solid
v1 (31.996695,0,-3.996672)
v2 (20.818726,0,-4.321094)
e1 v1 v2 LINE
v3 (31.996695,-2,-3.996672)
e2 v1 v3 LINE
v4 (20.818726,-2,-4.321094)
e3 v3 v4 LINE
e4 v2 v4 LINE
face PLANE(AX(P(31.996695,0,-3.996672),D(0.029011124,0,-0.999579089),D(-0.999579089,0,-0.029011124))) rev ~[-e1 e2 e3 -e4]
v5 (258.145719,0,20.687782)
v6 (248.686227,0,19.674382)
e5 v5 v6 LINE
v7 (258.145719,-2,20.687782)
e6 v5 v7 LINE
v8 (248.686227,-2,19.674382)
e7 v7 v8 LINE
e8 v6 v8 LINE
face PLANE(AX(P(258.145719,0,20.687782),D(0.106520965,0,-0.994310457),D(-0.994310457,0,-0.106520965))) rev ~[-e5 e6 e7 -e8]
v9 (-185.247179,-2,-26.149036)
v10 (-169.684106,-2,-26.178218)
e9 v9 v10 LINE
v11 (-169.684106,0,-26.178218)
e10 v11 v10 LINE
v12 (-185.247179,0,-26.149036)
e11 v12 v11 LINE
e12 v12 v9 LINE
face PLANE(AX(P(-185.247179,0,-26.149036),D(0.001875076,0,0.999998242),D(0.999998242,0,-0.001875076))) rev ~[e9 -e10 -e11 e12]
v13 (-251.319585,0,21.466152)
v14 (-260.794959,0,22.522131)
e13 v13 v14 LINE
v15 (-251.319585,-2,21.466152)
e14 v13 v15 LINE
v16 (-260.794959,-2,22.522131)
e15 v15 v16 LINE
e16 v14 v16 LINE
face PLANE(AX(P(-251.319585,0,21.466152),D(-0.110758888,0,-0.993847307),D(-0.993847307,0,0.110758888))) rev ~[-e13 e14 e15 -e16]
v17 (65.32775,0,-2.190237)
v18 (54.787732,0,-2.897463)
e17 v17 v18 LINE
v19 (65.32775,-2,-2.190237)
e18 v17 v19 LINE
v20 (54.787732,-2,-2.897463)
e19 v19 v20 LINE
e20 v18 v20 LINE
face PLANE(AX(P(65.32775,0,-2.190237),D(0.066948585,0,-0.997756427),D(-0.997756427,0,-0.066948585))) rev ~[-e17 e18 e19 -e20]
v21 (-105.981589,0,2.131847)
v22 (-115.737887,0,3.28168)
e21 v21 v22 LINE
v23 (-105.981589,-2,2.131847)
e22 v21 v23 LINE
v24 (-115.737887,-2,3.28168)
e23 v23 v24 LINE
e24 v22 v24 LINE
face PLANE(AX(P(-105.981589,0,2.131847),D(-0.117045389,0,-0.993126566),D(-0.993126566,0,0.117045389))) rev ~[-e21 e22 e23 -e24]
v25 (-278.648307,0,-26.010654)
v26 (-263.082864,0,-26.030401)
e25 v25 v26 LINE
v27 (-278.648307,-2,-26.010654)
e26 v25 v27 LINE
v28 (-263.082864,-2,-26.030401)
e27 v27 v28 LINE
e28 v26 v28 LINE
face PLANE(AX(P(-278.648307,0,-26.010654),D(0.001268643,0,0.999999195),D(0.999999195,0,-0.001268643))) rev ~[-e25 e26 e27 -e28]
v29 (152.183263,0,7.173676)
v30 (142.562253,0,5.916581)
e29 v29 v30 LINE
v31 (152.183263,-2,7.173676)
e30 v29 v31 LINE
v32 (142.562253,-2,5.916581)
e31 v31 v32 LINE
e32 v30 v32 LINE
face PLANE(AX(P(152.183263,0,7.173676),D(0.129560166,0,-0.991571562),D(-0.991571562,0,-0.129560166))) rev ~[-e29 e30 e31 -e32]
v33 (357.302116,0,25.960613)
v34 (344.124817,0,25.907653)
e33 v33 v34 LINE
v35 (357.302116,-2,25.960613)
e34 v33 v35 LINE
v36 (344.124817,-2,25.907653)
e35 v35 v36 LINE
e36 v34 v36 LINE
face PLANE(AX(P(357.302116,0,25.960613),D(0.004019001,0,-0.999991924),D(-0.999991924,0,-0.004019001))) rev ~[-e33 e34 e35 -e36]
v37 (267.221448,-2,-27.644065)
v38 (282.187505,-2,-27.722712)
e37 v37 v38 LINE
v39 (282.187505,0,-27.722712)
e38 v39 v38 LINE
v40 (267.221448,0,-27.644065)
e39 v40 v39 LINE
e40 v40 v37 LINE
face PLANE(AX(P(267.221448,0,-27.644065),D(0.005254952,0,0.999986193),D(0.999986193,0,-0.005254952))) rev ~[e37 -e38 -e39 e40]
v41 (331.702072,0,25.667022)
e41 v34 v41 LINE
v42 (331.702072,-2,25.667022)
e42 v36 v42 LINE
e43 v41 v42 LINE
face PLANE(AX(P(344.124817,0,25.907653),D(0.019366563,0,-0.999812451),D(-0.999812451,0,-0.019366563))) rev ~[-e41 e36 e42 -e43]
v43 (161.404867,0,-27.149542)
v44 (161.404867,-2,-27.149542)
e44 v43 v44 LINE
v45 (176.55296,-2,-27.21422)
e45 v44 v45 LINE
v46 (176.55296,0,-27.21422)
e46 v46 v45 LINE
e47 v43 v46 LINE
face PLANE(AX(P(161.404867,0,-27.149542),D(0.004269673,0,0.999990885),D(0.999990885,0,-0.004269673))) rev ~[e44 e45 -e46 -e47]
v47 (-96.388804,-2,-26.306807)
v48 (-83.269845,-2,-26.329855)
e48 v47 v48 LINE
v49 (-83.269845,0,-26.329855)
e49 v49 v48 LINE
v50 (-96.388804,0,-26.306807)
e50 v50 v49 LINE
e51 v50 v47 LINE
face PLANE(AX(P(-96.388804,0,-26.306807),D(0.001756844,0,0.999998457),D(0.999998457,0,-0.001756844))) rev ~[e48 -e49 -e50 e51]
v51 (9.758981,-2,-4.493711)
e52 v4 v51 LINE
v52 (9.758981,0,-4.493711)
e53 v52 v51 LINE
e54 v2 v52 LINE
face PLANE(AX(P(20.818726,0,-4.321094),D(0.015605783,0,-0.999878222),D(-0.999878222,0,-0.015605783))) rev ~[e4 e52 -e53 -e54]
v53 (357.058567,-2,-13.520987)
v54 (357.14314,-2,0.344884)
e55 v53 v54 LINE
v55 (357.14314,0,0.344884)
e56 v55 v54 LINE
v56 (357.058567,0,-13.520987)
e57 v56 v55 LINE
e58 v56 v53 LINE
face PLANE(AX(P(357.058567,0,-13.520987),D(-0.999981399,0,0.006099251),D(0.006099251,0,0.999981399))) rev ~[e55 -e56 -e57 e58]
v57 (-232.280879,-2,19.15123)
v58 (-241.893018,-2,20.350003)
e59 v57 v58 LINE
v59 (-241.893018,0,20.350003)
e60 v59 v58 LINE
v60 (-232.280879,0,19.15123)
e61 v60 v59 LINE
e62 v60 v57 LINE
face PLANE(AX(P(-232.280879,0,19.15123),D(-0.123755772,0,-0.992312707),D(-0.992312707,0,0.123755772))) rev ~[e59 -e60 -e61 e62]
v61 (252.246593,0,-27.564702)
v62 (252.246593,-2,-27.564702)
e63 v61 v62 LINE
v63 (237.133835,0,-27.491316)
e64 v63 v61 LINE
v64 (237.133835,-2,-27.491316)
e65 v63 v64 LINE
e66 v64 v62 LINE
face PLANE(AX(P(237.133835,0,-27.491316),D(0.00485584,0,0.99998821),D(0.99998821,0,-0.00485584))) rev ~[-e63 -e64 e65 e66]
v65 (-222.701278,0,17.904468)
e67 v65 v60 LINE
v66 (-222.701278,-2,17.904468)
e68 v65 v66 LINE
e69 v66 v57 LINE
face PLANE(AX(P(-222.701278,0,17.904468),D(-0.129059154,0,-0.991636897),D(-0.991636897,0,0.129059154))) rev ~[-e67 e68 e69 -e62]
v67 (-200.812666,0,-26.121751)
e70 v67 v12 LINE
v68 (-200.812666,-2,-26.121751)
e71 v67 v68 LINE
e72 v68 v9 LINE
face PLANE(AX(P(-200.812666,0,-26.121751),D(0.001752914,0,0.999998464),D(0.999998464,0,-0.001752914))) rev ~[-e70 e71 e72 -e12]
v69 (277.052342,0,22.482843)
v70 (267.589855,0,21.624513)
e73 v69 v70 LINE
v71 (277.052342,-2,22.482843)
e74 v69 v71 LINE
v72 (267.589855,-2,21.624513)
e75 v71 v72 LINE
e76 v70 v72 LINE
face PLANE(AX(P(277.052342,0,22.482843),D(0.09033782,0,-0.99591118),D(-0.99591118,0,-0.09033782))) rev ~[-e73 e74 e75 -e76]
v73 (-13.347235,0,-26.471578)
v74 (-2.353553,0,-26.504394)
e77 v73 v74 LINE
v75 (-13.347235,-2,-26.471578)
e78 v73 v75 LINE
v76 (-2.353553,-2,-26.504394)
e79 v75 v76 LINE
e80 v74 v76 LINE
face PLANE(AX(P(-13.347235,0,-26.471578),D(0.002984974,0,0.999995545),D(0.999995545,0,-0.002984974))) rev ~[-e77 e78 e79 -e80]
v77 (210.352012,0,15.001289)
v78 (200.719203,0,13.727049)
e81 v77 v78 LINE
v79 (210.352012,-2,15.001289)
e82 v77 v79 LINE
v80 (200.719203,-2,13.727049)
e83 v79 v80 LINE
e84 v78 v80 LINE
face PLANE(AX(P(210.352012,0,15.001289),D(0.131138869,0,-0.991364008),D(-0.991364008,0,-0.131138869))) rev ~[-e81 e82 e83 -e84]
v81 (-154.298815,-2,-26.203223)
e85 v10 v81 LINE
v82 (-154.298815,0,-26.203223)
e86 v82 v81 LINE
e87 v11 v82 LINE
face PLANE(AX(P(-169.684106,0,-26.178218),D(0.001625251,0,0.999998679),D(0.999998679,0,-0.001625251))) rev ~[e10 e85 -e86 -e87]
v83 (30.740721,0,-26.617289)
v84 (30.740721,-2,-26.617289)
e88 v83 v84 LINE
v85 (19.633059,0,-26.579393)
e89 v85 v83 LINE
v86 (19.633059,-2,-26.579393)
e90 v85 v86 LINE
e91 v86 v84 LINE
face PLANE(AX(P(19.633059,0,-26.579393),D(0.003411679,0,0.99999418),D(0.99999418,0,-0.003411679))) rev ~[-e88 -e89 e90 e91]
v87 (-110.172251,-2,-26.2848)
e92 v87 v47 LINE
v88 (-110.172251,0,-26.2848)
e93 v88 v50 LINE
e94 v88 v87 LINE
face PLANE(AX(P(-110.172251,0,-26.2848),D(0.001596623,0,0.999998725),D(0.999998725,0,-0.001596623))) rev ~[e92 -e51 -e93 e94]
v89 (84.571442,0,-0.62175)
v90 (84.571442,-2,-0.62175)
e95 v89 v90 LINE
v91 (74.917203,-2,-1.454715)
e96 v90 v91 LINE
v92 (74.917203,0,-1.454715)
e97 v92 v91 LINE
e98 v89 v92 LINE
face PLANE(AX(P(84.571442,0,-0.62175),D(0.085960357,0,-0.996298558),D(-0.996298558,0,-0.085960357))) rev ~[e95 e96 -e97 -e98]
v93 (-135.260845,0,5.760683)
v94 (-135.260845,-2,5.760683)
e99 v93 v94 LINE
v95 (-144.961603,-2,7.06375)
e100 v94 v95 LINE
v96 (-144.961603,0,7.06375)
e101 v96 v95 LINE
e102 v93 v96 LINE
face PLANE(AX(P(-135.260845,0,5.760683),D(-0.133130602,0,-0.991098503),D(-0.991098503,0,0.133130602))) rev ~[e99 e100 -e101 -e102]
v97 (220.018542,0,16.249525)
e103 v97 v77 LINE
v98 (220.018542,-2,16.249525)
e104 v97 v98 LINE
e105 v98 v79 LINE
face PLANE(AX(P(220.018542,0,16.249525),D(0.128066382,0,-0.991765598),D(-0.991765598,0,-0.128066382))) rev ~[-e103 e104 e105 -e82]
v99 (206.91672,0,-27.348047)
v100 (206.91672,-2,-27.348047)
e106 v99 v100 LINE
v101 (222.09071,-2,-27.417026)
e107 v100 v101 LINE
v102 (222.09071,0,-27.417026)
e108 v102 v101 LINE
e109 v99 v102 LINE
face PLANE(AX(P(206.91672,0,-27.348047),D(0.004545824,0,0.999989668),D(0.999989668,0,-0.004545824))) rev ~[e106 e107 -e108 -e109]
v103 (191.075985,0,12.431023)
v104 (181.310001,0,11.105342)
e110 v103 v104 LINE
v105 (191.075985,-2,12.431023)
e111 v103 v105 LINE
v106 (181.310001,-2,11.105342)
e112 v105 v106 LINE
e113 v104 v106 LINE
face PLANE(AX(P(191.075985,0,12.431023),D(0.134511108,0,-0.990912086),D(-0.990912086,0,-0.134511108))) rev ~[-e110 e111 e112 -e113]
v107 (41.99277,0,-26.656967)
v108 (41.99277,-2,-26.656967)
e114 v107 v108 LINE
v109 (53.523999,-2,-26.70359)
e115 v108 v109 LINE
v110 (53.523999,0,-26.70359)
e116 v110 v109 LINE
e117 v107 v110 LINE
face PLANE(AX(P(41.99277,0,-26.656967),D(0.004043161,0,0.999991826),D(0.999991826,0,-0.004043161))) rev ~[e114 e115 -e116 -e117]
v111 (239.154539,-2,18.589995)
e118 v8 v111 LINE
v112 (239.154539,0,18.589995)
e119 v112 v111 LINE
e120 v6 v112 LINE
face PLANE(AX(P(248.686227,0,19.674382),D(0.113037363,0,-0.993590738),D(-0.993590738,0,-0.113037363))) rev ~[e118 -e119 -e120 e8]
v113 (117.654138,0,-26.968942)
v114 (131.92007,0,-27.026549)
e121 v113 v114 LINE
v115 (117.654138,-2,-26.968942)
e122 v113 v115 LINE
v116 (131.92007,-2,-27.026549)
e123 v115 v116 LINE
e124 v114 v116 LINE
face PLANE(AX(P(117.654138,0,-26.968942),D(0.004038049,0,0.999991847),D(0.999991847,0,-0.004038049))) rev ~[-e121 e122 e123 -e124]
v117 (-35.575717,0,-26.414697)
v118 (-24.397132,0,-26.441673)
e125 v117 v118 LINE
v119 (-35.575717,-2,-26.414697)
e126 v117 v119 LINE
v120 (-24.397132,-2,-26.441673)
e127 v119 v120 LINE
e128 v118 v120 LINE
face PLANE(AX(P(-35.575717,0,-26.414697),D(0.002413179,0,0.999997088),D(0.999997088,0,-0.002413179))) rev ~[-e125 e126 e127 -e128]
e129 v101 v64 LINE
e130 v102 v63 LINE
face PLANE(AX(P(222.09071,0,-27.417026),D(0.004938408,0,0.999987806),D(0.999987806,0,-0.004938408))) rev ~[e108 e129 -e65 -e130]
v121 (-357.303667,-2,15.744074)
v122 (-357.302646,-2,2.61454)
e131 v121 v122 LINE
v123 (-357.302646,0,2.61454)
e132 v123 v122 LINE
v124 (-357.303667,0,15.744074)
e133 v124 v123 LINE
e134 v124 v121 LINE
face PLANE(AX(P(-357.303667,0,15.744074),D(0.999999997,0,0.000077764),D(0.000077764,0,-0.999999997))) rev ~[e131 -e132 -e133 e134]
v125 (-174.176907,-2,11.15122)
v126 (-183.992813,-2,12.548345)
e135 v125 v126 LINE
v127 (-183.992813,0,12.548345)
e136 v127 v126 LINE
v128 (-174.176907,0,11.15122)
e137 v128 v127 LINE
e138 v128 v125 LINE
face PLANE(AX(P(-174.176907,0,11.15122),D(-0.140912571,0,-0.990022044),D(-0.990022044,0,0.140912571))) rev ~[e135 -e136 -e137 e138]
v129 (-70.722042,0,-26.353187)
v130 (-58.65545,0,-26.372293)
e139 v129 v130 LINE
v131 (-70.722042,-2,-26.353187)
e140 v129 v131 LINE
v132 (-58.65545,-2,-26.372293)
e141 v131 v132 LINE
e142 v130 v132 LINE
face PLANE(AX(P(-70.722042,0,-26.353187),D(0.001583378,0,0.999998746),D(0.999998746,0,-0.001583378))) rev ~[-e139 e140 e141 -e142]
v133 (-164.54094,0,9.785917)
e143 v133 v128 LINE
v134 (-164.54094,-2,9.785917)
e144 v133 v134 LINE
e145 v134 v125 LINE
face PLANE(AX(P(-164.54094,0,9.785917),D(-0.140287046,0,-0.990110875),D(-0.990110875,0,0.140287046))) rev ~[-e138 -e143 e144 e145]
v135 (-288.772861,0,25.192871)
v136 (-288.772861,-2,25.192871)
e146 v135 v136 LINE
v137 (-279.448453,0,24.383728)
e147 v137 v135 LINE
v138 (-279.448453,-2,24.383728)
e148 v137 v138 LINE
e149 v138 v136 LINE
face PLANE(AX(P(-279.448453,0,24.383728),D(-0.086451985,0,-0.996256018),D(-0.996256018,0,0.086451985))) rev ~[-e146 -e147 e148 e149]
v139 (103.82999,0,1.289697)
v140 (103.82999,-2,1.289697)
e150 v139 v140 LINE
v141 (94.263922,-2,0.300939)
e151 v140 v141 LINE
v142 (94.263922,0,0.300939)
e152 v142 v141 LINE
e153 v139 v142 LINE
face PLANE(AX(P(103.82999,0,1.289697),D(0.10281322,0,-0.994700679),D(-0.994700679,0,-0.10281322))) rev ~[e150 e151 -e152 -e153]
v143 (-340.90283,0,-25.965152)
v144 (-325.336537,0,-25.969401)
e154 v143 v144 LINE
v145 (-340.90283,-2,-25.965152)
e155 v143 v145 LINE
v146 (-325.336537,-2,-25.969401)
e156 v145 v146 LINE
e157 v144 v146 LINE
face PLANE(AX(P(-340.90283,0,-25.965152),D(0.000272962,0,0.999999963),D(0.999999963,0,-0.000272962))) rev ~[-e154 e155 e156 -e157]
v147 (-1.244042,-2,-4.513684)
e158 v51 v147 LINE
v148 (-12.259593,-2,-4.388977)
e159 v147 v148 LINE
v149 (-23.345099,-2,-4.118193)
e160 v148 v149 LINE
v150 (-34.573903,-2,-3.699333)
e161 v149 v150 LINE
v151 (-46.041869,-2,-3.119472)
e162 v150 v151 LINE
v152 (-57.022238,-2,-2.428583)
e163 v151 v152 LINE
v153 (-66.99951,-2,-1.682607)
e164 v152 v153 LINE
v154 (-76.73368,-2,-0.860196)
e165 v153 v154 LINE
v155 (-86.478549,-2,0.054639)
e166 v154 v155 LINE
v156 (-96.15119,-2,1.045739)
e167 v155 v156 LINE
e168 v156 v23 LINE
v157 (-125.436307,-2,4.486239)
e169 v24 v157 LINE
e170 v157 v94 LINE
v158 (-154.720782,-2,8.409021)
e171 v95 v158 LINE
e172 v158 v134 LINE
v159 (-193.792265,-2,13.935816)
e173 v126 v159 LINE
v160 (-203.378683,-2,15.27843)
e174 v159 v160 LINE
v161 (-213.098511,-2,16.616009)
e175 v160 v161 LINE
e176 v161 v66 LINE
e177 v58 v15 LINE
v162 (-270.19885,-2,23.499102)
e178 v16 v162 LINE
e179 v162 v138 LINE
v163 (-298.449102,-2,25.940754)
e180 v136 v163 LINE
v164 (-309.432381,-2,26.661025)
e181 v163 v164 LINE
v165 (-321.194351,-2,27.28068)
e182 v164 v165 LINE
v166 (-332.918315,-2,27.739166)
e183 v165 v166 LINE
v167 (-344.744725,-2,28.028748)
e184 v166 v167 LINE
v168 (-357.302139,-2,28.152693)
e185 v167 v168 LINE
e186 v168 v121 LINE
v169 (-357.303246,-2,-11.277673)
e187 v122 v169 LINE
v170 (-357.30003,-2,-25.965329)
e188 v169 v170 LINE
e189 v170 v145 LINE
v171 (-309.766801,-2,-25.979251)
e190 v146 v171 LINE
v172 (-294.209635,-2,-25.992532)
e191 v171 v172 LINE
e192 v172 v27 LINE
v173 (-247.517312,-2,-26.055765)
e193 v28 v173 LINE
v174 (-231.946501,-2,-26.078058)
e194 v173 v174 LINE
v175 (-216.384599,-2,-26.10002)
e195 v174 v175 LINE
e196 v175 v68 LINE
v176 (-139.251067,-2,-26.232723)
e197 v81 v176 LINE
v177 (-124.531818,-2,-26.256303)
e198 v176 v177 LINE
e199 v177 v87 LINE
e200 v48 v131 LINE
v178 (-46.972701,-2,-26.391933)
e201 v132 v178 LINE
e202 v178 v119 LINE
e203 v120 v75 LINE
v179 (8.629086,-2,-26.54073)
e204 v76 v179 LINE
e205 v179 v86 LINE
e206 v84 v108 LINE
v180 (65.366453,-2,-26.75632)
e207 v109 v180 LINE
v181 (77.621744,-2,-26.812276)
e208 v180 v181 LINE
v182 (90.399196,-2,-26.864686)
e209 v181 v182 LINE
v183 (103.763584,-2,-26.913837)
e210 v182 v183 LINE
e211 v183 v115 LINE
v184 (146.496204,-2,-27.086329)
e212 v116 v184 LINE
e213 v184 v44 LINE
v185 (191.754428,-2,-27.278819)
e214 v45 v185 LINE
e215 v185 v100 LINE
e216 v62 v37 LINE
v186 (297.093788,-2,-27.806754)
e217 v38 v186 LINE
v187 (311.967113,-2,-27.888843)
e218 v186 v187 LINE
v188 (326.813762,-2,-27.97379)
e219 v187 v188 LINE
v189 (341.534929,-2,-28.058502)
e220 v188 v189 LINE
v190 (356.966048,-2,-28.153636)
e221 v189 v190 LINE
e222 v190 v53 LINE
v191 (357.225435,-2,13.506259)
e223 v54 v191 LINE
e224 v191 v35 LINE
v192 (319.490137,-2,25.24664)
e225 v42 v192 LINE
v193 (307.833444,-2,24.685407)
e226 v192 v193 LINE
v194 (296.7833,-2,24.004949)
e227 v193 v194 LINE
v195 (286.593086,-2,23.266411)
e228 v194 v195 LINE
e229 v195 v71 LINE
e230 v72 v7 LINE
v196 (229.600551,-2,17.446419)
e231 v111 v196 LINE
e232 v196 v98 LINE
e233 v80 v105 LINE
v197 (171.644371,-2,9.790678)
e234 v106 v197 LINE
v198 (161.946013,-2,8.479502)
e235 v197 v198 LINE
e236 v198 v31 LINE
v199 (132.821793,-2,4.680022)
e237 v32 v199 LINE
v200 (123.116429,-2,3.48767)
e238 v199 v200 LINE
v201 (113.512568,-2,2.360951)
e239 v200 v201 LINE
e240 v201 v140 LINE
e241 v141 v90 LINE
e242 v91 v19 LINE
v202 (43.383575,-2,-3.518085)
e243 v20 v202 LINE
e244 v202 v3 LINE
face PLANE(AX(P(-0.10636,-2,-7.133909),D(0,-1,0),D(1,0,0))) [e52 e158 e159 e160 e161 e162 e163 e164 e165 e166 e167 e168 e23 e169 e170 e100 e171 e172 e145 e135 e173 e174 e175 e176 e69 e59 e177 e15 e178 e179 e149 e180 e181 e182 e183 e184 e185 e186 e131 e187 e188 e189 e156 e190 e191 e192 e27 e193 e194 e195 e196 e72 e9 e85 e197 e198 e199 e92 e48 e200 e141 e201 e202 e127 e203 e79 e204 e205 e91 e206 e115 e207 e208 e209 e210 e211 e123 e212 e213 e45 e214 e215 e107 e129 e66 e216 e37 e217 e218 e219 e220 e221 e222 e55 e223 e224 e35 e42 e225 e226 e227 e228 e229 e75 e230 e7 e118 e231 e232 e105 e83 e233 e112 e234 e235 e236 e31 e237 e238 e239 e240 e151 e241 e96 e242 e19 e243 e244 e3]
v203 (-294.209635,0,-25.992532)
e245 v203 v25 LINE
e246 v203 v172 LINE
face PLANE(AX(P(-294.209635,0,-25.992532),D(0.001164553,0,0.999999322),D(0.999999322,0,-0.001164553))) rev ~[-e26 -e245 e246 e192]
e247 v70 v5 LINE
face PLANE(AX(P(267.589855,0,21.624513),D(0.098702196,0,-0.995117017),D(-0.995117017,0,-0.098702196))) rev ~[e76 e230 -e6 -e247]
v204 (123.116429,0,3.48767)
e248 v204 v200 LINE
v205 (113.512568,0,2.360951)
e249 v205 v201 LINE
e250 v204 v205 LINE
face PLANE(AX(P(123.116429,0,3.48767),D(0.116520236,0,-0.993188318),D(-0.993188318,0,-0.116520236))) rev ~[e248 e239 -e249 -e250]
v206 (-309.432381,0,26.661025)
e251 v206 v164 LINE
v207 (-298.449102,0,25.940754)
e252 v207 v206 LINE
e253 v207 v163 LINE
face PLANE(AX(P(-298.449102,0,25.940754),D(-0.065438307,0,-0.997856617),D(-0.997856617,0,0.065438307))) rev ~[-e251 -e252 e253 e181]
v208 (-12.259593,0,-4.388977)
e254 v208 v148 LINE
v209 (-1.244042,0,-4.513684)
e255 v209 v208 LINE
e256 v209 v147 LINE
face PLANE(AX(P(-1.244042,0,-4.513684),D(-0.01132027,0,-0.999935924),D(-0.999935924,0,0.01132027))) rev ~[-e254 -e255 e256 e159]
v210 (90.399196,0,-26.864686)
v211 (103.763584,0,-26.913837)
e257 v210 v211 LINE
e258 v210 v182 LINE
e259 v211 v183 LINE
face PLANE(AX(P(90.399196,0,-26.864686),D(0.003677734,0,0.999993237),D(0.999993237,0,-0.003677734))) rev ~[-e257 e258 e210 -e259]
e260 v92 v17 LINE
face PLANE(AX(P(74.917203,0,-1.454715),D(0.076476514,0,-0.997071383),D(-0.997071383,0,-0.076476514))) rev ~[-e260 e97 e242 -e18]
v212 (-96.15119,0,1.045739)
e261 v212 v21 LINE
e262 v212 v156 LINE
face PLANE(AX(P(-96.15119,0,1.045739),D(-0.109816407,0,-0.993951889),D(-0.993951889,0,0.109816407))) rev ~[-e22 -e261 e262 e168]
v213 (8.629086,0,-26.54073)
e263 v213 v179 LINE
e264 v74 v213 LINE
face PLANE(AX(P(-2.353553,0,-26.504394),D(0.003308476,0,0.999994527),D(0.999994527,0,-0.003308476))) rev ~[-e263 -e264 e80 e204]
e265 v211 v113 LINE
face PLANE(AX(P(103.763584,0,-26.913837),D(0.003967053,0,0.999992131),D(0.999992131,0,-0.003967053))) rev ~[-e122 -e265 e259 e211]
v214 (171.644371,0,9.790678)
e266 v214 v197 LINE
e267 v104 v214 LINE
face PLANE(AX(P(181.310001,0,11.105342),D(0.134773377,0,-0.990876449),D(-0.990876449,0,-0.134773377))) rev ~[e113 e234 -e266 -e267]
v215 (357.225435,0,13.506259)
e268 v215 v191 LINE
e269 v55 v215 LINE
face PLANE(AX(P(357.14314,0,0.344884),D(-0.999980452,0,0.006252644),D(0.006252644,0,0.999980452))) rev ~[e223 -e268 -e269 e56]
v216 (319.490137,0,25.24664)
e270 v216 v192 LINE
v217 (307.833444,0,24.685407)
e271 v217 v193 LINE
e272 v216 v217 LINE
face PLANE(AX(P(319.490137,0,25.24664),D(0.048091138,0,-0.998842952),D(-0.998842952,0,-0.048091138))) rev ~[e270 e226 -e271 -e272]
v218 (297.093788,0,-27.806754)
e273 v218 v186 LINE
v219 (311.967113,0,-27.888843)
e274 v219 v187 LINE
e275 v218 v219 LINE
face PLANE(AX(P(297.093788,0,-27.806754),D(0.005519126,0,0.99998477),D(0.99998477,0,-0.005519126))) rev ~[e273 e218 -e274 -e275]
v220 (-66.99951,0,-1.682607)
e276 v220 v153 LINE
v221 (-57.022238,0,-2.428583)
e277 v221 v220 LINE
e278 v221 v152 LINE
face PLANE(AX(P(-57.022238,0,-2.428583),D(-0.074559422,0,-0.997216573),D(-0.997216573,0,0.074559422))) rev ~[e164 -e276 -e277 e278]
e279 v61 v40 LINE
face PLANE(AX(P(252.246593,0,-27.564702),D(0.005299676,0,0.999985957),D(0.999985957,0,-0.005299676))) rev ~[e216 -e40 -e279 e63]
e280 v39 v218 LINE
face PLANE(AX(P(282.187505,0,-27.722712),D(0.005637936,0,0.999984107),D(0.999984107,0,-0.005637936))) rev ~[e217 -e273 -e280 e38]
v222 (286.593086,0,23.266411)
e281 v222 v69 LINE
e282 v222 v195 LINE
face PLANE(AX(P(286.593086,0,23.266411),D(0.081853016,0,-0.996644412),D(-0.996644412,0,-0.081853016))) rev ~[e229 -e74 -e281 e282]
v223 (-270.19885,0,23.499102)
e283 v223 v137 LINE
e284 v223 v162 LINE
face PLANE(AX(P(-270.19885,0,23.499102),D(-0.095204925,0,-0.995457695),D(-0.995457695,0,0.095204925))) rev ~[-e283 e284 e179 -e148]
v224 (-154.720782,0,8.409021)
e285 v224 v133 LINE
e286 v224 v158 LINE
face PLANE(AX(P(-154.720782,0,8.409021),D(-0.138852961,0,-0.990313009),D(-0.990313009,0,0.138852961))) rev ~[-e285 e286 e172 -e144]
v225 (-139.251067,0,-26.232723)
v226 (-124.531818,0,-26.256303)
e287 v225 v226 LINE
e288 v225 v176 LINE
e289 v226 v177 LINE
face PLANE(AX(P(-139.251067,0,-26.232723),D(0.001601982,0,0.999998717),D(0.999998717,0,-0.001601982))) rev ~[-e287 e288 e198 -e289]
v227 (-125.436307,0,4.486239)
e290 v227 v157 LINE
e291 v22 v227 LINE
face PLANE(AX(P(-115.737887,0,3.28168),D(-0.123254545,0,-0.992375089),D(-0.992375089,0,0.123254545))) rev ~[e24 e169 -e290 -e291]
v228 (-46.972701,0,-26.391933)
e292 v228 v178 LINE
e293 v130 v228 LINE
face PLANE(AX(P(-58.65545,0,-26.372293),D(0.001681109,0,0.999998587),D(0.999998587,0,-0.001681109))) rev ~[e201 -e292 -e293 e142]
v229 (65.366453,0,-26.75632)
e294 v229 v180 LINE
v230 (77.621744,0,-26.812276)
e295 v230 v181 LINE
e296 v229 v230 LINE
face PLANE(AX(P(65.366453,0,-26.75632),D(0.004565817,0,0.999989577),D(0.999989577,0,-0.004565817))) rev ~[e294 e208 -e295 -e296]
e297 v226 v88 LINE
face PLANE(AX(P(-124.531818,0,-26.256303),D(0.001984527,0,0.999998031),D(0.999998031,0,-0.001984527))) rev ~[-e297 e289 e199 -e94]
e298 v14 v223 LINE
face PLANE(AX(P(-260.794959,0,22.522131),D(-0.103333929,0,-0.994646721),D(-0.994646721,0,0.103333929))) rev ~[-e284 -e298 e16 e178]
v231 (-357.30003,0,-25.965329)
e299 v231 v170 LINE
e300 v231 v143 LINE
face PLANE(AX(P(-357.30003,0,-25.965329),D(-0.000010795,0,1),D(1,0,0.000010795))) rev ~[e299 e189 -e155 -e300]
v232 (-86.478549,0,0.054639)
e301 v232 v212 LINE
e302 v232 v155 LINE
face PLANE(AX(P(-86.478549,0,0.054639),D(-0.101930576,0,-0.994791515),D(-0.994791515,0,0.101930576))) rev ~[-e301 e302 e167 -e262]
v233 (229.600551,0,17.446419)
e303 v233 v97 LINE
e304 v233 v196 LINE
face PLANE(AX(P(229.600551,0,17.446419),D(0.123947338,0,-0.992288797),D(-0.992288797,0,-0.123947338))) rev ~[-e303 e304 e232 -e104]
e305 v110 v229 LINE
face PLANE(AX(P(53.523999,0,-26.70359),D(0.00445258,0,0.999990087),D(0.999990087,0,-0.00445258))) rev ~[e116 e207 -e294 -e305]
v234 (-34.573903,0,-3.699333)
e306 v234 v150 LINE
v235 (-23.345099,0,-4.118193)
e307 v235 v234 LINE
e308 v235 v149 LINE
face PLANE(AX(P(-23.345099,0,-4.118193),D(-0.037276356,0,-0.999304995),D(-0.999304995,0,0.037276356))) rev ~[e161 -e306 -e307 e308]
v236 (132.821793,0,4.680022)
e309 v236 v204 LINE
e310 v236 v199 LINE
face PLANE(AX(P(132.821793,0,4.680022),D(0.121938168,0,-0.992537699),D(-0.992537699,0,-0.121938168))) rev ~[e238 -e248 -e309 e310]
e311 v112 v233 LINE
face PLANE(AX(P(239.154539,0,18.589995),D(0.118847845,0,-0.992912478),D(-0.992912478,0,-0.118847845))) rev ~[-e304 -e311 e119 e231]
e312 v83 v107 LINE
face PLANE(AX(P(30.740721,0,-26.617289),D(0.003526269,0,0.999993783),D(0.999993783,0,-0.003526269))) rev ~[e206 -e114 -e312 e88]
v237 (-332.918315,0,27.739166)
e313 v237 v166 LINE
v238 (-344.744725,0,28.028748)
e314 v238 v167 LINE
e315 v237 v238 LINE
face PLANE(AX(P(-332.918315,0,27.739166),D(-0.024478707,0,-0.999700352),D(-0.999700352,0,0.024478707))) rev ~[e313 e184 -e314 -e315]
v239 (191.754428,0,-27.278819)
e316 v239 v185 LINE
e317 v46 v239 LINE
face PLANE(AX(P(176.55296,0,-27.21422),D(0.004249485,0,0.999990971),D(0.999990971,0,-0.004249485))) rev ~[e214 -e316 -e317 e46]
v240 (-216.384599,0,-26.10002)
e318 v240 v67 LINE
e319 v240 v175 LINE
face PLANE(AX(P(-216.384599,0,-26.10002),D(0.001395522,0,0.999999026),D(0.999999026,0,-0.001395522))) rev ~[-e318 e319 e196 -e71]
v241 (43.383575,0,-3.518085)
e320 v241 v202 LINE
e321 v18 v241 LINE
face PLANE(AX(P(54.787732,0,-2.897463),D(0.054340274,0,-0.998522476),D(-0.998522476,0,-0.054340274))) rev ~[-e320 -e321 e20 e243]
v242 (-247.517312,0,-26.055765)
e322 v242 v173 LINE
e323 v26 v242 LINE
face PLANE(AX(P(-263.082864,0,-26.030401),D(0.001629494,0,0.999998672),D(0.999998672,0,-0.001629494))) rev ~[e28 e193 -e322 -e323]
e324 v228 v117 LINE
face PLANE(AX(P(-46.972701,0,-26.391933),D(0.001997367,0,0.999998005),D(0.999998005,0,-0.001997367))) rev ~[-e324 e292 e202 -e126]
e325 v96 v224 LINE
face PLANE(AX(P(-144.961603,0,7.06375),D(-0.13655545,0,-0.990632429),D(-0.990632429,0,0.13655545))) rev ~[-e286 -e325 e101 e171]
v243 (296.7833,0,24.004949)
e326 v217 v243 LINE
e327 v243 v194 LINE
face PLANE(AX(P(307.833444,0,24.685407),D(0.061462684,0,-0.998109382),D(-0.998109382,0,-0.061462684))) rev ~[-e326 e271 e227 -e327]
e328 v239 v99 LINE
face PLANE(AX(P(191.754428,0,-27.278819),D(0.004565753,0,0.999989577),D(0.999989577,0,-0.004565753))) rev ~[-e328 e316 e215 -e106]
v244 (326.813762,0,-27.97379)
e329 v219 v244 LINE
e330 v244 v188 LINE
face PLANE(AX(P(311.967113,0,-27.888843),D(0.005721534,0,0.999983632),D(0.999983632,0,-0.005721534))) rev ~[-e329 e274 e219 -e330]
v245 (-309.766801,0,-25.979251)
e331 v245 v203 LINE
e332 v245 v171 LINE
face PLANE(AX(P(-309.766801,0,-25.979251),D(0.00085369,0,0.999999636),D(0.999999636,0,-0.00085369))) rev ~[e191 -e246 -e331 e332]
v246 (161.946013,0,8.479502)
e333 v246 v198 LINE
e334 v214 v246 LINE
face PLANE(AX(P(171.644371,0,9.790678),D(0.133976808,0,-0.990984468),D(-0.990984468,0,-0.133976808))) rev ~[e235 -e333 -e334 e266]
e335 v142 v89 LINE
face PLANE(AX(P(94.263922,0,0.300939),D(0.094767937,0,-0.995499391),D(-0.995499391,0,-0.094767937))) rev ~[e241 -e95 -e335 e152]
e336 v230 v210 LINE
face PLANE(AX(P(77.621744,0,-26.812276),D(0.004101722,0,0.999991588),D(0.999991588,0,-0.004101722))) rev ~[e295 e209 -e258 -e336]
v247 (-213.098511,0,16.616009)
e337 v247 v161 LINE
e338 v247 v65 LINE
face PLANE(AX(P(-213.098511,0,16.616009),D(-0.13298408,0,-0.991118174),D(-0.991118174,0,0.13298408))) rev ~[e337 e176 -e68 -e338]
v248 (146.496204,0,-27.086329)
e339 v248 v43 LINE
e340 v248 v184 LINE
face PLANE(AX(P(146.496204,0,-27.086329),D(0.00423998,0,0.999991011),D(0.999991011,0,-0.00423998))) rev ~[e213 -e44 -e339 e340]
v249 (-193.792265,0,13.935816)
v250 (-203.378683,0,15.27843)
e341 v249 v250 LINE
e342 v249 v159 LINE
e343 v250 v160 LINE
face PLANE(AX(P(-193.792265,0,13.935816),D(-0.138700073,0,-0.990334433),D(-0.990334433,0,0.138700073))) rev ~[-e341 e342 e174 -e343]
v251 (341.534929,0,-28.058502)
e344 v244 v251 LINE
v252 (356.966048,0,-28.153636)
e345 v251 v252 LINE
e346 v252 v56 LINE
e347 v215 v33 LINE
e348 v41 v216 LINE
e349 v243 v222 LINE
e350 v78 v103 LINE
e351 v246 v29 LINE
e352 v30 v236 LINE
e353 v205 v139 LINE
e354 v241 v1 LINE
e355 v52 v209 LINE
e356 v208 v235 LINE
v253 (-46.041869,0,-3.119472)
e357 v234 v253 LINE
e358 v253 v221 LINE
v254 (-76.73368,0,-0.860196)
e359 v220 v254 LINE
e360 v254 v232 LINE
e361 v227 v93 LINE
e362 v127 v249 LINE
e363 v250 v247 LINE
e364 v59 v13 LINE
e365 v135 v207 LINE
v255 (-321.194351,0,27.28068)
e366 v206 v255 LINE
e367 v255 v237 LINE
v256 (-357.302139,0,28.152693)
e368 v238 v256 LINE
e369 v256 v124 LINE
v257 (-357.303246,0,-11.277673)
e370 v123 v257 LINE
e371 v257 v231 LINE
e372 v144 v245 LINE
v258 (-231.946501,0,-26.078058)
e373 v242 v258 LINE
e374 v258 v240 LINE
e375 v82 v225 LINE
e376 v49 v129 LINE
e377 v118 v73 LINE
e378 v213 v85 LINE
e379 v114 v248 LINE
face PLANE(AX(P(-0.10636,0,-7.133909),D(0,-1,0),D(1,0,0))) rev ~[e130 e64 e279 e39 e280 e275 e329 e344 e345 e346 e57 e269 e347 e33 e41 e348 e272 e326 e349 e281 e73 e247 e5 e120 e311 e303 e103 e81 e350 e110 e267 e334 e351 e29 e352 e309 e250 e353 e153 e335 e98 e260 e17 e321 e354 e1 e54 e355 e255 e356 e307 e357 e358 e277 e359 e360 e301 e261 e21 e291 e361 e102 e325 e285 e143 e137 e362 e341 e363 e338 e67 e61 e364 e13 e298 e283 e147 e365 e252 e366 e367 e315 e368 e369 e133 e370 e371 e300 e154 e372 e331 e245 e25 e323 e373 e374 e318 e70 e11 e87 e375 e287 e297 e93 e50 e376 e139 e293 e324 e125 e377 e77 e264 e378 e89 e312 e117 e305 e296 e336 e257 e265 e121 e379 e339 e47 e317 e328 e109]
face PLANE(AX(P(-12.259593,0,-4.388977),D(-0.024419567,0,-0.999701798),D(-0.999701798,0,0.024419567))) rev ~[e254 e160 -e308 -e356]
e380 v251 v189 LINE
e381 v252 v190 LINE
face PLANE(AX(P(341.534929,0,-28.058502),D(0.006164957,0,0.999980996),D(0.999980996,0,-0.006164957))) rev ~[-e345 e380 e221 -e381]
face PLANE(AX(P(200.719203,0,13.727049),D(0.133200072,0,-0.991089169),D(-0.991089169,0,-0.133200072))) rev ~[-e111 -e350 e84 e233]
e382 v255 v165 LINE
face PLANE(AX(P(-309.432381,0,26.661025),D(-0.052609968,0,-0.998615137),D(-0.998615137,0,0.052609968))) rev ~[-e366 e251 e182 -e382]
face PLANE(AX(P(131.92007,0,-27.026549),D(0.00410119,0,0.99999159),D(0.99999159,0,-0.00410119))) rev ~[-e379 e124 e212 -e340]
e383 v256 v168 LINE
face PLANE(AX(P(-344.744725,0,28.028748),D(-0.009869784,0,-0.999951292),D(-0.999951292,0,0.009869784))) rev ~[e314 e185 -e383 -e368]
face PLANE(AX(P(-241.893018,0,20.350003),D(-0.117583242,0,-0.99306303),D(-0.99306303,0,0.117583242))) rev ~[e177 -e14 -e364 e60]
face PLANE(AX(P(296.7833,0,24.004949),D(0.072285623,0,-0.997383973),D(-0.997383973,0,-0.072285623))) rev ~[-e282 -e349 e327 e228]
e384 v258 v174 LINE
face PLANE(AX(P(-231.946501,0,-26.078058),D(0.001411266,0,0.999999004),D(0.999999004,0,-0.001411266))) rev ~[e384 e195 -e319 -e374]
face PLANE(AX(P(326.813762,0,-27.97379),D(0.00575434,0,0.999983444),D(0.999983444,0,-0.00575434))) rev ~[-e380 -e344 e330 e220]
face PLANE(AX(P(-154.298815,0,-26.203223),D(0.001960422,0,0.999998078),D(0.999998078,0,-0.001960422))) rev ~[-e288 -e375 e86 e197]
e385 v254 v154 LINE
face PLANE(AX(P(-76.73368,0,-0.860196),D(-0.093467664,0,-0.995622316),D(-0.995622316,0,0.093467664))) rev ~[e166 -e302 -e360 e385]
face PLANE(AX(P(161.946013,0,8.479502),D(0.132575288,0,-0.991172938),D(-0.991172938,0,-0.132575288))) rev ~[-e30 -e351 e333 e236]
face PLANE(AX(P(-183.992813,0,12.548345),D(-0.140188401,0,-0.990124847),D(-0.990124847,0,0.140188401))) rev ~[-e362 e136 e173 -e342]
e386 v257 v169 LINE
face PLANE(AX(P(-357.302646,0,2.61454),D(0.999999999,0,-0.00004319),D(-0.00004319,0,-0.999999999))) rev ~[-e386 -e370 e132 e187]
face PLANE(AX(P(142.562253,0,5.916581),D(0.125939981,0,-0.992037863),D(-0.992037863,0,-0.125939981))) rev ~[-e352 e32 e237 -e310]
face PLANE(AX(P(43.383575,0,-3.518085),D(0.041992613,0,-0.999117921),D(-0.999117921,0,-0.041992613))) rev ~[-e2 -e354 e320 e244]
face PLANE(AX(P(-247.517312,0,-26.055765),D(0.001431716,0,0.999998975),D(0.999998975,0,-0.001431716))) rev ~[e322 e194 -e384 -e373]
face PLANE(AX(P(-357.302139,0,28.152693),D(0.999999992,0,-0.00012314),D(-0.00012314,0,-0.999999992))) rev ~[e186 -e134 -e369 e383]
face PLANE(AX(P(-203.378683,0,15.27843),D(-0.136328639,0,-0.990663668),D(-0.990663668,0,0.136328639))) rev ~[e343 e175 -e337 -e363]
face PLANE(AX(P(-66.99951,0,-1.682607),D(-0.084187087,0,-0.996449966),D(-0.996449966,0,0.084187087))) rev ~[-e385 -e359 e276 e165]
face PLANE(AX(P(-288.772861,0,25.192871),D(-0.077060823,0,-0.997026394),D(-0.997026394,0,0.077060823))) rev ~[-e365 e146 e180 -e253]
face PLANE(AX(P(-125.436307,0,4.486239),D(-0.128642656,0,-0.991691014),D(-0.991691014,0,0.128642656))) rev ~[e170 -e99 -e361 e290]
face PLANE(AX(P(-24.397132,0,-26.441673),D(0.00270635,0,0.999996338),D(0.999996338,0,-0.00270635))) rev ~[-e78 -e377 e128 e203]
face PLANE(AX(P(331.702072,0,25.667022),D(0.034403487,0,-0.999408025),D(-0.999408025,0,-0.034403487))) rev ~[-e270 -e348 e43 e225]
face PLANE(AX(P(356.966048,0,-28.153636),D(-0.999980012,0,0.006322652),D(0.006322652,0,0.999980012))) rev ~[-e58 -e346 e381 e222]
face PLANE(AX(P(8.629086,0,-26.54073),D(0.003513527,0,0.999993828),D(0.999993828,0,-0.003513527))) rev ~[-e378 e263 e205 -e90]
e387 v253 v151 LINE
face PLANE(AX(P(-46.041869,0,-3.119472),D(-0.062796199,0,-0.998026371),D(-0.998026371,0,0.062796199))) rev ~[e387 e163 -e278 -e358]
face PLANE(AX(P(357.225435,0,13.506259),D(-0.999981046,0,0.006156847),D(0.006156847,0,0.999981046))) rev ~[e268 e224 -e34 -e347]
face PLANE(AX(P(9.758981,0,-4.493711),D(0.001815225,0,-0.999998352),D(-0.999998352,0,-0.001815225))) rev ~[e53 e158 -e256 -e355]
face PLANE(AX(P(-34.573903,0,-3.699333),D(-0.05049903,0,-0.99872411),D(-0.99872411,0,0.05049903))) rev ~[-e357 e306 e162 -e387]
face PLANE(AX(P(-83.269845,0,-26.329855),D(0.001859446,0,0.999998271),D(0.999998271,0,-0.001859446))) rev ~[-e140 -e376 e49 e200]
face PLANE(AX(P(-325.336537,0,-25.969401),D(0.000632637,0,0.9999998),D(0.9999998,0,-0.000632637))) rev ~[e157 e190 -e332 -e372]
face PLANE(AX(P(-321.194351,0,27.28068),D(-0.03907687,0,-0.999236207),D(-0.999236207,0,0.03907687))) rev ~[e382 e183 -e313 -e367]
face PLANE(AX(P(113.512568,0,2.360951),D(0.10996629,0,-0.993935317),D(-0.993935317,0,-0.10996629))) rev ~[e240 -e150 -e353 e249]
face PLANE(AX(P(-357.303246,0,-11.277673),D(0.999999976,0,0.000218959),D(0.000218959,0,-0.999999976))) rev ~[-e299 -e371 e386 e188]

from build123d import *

# Parameters (mm, degrees)
F1_DEPTH = 2


with BuildPart() as f1:
    # F0 (on Front) → F1 (new body)
    with BuildSketch(Plane.XZ):
        Polygon((341.534929, -28.058502), (356.966048, -28.153636), (357.058567, -13.520987), (357.14314, 0.344884), (357.225435, 13.506259), (357.302116, 25.960613), (344.124817, 25.907653), (331.702072, 25.667022), (319.490137, 25.24664), (307.833444, 24.685407), (296.7833, 24.004949), (286.593086, 23.266411), (277.052342, 22.482843), (267.589855, 21.624513), (258.145719, 20.687782), (248.686227, 19.674382), (239.154539, 18.589995), (229.600551, 17.446419), (220.018542, 16.249525), (210.352012, 15.001289), (200.719203, 13.727049), (191.075985, 12.431023), (181.310001, 11.105342), (171.644371, 9.790678), (161.946013, 8.479502), (152.183263, 7.173676), (142.562253, 5.916581), (132.821793, 4.680022), (123.116429, 3.48767), (113.512568, 2.360951), (103.82999, 1.289697), (94.263922, 0.300939), (84.571442, -0.62175), (74.917203, -1.454715), (65.32775, -2.190237), (54.787732, -2.897463), (43.383575, -3.518085), (31.996695, -3.996672), (20.818726, -4.321094), (9.758981, -4.493711), (-1.244042, -4.513684), (-12.259593, -4.388977), (-23.345099, -4.118193), (-34.573903, -3.699333), (-46.041869, -3.119472), (-57.022238, -2.428583), (-66.99951, -1.682607), (-76.73368, -0.860196), (-86.478549, 0.054639), (-96.15119, 1.045739), (-105.981589, 2.131847), (-115.737887, 3.28168), (-125.436307, 4.486239), (-135.260845, 5.760683), (-144.961603, 7.06375), (-154.720782, 8.409021), (-164.54094, 9.785917), (-174.176907, 11.15122), (-183.992813, 12.548345), (-193.792265, 13.935816), (-203.378683, 15.27843), (-213.098511, 16.616009), (-222.701278, 17.904468), (-232.280879, 19.15123), (-241.893018, 20.350003), (-251.319585, 21.466152), (-260.794959, 22.522131), (-270.19885, 23.499102), (-279.448453, 24.383728), (-288.772861, 25.192871), (-298.449102, 25.940754), (-309.432381, 26.661025), (-321.194351, 27.28068), (-332.918315, 27.739166), (-344.744725, 28.028748), (-357.302139, 28.152693), (-357.303667, 15.744074), (-357.302646, 2.61454), (-357.303246, -11.277673), (-357.30003, -25.965329), (-340.90283, -25.965152), (-325.336537, -25.969401), (-309.766801, -25.979251), (-294.209635, -25.992532), (-278.648307, -26.010654), (-263.082864, -26.030401), (-247.517312, -26.055765), (-231.946501, -26.078058), (-216.384599, -26.10002), (-200.812666, -26.121751), (-185.247179, -26.149036), (-169.684106, -26.178218), (-154.298815, -26.203223), (-139.251067, -26.232723), (-124.531818, -26.256303), (-110.172251, -26.2848), (-96.388804, -26.306807), (-83.269845, -26.329855), (-70.722042, -26.353187), (-58.65545, -26.372293), (-46.972701, -26.391933), (-35.575717, -26.414697), (-24.397132, -26.441673), (-13.347235, -26.471578), (-2.353553, -26.504394), (8.629086, -26.54073), (19.633059, -26.579393), (30.740721, -26.617289), (41.99277, -26.656967), (53.523999, -26.70359), (65.366453, -26.75632), (77.621744, -26.812276), (90.399196, -26.864686), (103.763584, -26.913837), (117.654138, -26.968942), (131.92007, -27.026549), (146.496204, -27.086329), (161.404867, -27.149542), (176.55296, -27.21422), (191.754428, -27.278819), (206.91672, -27.348047), (222.09071, -27.417026), (237.133835, -27.491316), (252.246593, -27.564702), (267.221448, -27.644065), (282.187505, -27.722712), (297.093788, -27.806754), (311.967113, -27.888843), (326.813762, -27.97379), align=None)
    extrude(amount=F1_DEPTH)


solid = f1.part
